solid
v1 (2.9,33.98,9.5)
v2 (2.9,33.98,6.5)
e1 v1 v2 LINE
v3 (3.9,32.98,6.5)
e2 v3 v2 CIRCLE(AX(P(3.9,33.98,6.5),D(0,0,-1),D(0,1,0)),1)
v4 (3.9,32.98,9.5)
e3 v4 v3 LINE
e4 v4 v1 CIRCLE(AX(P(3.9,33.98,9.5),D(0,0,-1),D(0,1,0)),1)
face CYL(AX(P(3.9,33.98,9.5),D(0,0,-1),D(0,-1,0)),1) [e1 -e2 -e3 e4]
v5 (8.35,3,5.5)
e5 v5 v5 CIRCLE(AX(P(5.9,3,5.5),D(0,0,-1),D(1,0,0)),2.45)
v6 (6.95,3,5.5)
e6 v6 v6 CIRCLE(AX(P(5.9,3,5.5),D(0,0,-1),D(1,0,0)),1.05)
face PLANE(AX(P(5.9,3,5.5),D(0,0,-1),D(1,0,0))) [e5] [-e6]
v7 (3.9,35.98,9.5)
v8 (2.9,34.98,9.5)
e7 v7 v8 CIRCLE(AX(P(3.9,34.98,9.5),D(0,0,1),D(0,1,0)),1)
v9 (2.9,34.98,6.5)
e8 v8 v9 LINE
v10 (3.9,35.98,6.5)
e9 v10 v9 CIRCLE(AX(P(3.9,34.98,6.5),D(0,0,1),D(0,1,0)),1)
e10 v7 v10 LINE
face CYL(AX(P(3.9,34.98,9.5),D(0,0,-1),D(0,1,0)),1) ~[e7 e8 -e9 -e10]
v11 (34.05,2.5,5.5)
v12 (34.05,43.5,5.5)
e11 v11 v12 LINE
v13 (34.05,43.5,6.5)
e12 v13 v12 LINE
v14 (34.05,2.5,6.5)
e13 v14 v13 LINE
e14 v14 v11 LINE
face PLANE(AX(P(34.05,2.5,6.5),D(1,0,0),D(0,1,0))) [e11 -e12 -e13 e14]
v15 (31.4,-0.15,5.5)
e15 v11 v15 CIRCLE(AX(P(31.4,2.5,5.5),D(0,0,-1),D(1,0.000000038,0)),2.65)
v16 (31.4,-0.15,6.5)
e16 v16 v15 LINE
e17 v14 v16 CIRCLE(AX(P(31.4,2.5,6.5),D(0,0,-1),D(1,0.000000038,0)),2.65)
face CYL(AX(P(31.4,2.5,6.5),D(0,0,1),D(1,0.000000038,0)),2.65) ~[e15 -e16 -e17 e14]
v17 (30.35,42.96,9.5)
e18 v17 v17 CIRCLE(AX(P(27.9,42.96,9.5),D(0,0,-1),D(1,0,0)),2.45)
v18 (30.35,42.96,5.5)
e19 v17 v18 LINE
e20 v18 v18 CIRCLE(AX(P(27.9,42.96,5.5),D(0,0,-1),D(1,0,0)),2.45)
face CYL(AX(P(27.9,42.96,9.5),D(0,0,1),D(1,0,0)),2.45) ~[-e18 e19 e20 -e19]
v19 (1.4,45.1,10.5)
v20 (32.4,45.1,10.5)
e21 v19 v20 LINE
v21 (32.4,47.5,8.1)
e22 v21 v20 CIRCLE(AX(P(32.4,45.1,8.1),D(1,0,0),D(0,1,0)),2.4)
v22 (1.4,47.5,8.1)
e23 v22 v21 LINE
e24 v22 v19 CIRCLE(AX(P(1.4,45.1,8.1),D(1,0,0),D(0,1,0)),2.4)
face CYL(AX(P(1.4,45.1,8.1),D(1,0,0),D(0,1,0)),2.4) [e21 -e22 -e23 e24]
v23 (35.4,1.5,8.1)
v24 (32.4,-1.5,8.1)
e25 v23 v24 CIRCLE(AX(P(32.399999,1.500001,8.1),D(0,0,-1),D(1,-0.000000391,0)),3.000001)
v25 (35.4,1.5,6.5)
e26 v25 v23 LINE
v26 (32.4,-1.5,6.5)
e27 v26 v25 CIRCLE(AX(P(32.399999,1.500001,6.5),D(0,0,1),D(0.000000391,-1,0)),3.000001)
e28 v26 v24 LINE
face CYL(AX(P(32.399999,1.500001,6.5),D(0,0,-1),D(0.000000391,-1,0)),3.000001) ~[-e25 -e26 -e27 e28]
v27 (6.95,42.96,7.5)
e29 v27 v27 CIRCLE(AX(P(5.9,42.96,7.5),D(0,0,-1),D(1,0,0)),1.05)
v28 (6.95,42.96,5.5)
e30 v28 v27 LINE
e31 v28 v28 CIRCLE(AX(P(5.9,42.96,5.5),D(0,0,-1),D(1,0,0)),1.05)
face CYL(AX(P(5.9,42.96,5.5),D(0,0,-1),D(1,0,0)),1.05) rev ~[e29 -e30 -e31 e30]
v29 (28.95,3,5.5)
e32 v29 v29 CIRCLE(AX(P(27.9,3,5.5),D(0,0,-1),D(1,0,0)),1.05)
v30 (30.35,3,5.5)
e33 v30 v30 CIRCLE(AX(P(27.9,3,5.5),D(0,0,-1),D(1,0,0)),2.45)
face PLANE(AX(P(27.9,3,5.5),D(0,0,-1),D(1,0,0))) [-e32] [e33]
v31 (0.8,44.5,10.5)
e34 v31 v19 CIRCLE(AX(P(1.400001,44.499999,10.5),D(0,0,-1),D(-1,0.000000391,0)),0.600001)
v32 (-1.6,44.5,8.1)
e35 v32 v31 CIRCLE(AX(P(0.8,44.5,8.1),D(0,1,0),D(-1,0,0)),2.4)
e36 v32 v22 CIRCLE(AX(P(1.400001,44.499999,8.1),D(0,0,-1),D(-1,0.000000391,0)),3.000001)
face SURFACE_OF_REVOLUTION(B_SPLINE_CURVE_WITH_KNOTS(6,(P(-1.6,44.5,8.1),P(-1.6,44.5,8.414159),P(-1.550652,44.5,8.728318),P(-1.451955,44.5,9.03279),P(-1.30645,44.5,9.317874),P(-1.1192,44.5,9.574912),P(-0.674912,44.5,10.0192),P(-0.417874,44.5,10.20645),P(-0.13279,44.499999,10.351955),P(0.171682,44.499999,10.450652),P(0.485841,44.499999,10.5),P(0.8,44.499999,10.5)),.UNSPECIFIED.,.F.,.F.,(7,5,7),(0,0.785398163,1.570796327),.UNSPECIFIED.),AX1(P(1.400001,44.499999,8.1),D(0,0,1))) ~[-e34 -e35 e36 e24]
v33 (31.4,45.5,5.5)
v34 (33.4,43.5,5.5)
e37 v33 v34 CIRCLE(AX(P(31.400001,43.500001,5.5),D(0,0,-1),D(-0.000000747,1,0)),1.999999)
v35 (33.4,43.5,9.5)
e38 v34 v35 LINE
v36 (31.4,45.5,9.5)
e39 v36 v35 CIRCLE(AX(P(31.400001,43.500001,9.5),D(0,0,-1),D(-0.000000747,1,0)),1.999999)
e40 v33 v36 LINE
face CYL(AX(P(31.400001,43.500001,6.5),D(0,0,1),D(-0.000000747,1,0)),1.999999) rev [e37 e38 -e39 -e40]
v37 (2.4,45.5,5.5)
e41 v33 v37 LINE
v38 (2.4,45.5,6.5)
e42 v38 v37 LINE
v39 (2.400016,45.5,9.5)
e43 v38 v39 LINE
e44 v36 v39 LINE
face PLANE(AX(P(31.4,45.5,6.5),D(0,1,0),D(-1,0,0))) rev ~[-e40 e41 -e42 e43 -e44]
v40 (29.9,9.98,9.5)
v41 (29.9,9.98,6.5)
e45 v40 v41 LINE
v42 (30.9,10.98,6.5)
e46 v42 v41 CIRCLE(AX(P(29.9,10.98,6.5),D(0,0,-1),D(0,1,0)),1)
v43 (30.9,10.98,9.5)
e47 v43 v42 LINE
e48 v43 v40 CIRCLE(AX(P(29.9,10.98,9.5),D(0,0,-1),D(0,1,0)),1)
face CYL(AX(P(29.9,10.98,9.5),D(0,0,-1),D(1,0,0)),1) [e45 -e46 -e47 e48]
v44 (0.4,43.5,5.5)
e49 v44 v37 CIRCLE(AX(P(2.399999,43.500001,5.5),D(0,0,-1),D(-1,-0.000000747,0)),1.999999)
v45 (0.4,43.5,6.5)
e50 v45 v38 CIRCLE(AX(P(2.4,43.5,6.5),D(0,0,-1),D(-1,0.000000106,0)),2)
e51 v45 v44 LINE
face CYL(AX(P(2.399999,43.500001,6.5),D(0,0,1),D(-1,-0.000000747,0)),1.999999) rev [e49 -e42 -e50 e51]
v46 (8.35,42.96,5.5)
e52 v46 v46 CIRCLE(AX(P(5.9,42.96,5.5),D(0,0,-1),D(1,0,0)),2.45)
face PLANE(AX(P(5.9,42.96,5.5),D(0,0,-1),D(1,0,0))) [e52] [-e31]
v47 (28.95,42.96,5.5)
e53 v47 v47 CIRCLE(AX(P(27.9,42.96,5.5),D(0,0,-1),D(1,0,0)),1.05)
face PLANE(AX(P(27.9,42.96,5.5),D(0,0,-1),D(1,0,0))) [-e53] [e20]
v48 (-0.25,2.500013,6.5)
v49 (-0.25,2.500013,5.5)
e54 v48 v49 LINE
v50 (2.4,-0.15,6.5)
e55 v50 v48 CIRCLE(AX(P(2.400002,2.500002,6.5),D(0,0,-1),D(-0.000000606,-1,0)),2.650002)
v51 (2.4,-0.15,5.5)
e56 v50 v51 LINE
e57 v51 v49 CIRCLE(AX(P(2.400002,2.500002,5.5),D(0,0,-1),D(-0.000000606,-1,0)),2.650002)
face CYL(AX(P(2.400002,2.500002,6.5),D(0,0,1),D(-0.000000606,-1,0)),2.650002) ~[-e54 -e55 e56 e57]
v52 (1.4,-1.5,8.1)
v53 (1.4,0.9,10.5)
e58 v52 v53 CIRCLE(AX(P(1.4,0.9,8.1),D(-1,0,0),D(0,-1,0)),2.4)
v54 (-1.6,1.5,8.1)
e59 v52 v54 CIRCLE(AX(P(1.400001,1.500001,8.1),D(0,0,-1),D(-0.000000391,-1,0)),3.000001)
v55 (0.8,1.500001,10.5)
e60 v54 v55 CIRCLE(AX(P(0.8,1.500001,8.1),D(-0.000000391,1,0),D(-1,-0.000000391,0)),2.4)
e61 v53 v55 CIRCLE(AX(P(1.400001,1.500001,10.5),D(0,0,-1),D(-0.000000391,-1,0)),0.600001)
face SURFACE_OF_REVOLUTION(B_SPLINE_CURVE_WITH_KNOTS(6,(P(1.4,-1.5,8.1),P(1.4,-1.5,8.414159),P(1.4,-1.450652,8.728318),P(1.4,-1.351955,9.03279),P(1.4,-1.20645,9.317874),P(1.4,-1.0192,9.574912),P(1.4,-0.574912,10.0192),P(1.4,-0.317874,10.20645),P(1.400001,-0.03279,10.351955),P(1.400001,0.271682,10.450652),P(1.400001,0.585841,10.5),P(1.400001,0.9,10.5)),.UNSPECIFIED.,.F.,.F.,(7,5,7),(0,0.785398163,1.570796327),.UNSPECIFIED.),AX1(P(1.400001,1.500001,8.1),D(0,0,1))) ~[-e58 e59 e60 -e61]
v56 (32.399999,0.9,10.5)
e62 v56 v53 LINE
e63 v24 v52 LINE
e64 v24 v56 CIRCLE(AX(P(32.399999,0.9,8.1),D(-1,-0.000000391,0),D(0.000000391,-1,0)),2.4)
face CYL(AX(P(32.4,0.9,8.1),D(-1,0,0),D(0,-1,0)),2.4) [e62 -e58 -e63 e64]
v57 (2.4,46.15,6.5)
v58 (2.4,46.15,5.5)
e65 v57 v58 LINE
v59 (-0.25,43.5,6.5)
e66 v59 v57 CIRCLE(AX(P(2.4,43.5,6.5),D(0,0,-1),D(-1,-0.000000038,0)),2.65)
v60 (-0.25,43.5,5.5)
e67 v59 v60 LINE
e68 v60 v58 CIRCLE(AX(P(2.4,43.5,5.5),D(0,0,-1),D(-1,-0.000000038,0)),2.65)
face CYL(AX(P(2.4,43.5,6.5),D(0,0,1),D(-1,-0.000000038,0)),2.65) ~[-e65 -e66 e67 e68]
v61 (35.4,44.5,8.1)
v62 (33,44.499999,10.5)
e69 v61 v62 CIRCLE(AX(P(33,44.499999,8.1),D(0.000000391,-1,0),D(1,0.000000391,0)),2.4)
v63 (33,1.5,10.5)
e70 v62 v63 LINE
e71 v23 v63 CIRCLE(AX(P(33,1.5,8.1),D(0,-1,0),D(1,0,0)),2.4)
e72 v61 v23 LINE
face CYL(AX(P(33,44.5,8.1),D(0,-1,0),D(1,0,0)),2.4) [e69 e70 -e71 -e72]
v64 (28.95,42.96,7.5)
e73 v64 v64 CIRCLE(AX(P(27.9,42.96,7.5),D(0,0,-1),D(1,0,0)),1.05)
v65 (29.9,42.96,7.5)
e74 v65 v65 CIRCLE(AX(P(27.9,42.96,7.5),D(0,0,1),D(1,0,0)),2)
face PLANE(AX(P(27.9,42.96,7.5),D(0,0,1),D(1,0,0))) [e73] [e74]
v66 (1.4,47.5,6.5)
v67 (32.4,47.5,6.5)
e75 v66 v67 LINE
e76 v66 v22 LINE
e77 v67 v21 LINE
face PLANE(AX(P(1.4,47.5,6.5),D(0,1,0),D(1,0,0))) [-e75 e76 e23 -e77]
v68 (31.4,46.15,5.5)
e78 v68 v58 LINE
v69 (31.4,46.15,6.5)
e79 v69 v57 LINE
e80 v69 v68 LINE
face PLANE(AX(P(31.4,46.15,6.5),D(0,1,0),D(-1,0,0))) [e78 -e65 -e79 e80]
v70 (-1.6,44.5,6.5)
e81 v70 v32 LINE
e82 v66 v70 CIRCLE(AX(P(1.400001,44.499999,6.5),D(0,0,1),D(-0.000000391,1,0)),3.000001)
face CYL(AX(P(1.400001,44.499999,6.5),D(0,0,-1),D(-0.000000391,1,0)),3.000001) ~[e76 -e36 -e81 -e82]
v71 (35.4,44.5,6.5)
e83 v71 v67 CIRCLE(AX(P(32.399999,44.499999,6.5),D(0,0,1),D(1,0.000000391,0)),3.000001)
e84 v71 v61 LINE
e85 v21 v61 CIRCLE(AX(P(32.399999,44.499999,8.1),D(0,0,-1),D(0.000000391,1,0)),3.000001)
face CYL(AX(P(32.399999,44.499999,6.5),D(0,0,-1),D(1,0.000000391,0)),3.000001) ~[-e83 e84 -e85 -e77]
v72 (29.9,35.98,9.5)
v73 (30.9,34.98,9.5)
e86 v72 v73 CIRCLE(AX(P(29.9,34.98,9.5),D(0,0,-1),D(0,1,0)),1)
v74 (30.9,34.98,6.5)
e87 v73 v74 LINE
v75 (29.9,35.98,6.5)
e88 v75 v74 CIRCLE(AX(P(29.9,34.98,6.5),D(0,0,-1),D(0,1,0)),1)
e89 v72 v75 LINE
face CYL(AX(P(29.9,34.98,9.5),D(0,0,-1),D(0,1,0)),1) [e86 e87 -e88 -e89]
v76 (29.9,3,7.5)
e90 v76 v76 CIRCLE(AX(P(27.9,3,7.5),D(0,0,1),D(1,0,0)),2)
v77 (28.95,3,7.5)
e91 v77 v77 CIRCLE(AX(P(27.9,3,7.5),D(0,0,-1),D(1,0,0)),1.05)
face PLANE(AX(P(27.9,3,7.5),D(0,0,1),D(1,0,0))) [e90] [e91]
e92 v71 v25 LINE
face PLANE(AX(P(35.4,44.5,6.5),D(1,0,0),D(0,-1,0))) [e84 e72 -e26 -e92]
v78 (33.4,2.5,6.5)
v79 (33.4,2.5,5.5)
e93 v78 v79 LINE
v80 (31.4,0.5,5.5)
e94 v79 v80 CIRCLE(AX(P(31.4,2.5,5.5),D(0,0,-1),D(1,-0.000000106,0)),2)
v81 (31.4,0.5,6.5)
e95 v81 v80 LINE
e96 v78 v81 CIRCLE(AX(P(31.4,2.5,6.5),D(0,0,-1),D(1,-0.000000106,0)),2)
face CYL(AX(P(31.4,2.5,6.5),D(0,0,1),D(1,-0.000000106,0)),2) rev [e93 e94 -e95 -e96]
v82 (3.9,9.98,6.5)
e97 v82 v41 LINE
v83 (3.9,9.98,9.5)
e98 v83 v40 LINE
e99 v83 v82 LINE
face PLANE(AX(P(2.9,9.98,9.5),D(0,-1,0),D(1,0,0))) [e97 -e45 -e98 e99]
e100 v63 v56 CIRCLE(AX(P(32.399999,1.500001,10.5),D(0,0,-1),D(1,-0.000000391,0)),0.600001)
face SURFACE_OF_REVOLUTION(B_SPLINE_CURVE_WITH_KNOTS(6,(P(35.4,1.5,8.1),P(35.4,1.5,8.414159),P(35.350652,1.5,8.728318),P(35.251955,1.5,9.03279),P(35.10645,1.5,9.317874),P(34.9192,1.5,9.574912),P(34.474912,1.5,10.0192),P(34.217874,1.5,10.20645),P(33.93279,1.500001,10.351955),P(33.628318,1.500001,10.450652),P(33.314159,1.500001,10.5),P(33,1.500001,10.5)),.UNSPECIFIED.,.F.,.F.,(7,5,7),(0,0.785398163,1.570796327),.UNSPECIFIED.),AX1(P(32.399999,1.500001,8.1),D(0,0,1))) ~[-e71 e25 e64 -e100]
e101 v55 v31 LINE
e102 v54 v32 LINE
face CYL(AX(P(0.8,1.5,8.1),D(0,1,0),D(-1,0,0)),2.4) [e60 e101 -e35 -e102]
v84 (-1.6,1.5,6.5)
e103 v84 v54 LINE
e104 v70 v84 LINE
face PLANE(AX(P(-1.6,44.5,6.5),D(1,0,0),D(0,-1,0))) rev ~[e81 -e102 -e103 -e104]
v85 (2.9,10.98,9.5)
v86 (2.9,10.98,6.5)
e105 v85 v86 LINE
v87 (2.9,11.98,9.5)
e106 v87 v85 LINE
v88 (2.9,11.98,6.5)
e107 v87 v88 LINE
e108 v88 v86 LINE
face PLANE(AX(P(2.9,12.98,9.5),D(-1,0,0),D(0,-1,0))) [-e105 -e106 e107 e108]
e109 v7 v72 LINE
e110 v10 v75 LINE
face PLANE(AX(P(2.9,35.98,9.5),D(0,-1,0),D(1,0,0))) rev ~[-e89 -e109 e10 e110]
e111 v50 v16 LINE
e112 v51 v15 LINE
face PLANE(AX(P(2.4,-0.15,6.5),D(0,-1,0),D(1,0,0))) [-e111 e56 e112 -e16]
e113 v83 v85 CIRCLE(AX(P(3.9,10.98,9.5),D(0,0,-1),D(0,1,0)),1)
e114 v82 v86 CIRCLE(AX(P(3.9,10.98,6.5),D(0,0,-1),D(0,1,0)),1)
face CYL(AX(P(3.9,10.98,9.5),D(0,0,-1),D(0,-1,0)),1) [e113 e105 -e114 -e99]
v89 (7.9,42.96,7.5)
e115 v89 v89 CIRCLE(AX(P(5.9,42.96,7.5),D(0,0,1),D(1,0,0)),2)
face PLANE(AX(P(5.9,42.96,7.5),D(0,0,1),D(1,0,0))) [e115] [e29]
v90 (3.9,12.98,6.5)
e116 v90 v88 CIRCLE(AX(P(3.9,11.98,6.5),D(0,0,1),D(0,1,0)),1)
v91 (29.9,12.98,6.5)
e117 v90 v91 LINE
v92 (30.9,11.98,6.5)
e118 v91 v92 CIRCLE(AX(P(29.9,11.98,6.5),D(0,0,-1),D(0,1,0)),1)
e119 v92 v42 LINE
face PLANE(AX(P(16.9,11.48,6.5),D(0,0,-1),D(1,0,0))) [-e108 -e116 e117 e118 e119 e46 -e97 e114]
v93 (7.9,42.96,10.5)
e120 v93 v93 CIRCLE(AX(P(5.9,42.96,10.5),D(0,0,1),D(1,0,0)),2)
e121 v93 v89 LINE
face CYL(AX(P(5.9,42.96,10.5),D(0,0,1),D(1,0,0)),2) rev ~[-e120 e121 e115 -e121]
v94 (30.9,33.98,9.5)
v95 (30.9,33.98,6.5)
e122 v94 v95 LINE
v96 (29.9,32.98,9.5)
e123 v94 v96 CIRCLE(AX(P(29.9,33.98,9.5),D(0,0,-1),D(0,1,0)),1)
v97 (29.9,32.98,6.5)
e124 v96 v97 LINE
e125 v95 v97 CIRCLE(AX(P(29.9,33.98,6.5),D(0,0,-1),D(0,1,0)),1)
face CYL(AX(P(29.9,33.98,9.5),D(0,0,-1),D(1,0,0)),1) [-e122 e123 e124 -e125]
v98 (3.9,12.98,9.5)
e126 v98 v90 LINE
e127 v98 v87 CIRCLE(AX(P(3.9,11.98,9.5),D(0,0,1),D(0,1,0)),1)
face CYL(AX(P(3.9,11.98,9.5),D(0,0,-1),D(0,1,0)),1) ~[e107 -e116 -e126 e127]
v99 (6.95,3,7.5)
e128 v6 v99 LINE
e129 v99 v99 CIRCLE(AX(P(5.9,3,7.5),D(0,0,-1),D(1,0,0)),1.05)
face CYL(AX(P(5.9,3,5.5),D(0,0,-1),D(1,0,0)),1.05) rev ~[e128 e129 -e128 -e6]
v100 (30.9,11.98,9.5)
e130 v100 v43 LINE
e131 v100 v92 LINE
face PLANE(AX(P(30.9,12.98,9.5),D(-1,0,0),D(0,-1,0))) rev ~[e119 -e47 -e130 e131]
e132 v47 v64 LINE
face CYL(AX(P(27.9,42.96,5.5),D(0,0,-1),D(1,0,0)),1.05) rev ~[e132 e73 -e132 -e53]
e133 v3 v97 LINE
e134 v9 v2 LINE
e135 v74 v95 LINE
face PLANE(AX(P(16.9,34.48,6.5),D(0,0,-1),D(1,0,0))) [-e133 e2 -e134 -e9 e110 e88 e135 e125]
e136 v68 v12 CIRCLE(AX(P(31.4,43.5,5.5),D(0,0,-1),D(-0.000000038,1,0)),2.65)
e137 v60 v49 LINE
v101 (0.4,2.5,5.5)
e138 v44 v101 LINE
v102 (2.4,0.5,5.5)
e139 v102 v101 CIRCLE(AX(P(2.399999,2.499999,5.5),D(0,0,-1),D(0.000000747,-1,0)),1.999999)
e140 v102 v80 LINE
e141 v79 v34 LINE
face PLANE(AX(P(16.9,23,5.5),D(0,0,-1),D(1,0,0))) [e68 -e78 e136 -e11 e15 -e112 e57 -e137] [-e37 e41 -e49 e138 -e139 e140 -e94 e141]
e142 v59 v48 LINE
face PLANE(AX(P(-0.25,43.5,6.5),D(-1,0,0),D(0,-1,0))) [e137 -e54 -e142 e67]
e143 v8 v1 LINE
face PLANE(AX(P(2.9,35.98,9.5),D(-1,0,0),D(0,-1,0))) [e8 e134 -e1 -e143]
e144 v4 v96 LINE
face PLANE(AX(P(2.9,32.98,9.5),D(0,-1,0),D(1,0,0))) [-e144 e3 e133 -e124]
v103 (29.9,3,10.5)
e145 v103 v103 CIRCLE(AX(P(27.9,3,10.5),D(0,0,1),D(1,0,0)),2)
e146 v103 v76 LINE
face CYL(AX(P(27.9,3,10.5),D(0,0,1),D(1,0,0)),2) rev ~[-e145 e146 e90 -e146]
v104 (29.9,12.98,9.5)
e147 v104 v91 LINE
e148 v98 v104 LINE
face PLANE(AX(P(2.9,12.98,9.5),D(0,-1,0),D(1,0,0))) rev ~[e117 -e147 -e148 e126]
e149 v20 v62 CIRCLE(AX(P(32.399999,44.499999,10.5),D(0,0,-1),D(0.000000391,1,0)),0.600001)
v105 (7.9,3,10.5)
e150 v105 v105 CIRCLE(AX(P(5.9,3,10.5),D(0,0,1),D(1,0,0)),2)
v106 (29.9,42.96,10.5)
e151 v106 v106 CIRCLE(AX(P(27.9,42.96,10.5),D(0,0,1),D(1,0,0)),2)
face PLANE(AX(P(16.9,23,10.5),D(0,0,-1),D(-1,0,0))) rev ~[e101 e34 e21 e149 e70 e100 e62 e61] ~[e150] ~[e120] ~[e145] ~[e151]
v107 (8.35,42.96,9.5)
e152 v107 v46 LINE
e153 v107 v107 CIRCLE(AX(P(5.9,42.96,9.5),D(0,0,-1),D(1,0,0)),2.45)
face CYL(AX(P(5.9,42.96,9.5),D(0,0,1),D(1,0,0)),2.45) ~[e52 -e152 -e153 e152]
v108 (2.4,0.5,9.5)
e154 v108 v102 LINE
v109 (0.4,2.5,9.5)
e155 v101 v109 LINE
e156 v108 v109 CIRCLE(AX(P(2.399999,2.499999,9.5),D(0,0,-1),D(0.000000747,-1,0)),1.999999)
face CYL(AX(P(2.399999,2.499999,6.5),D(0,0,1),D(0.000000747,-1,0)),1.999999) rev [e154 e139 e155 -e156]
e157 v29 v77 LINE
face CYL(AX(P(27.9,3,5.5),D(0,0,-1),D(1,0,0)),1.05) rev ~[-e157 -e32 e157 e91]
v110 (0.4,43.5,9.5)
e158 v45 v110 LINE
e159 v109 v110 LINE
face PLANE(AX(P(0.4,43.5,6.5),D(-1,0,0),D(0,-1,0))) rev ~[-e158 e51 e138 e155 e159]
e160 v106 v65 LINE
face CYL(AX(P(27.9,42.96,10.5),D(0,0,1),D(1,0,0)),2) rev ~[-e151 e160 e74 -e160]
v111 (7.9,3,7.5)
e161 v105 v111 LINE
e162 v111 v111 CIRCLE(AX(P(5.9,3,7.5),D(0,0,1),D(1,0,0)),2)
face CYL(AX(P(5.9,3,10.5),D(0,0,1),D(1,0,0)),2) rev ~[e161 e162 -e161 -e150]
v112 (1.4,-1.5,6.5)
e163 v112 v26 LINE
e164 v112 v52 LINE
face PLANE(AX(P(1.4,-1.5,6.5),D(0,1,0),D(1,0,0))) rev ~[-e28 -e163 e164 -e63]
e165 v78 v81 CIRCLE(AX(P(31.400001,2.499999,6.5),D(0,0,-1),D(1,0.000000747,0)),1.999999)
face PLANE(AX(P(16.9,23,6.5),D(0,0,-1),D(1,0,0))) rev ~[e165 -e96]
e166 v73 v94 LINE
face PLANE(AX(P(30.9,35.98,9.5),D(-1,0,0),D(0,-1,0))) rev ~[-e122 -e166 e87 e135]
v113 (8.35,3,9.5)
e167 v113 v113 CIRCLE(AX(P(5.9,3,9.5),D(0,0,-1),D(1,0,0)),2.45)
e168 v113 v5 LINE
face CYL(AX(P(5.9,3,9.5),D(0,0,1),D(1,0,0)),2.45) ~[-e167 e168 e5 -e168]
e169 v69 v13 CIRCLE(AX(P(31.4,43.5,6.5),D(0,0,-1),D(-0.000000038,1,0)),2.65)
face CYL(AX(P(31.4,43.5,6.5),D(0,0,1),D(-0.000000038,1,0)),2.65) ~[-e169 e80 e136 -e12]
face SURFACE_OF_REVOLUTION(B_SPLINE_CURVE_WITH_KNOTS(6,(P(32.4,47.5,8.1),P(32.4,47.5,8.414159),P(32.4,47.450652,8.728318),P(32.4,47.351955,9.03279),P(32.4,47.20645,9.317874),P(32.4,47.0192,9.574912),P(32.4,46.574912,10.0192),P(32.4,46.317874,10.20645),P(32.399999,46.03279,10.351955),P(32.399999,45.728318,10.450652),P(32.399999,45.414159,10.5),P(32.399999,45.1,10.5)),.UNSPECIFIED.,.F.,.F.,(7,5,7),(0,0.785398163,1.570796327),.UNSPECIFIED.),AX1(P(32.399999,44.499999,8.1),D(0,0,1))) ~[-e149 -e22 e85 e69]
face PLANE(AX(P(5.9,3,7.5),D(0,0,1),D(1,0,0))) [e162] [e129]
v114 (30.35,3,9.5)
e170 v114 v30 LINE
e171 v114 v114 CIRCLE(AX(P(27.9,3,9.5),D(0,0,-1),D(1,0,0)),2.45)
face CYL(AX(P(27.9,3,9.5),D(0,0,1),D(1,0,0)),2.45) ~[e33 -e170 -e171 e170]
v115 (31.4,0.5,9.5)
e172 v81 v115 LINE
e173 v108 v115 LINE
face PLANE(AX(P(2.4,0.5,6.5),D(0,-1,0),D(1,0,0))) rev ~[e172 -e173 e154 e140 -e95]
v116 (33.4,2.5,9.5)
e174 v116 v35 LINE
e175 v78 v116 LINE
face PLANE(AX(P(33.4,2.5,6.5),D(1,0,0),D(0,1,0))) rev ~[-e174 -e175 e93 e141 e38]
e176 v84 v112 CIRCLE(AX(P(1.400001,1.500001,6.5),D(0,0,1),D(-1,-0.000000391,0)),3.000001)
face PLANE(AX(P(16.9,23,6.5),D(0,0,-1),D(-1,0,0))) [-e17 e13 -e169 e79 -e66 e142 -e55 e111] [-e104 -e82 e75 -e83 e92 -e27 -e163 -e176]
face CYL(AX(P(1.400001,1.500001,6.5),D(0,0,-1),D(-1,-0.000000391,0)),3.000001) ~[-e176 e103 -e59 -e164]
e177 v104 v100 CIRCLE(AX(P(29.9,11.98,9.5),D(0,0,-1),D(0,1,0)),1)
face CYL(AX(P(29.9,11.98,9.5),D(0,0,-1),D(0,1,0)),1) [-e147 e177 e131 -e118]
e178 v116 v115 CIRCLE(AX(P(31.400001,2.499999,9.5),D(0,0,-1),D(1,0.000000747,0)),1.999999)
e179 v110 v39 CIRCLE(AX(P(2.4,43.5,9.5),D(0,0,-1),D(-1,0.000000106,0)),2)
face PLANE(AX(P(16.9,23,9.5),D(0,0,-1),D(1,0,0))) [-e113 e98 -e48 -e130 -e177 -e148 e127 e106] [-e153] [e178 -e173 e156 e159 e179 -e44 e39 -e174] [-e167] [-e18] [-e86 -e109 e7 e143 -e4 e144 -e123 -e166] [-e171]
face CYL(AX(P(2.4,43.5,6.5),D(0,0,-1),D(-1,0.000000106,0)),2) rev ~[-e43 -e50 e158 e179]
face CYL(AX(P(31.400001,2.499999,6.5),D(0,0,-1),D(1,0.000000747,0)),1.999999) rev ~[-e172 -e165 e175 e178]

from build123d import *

# Parameters (mm, degrees)
PAD004_DEPTH    = 4
FILLET004_R     = 2.4
POCKET006_DEPTH = 3
SKETCH017_R     = 2.45
PAD012_DEPTH    = 4
SKETCH018_R     = 1.05
POCKET009_DEPTH = 5.001
SKETCH019_R     = 2
POCKET010_DEPTH = 3
PAD013_DEPTH    = 1
SKETCH022_W     = 28
SKETCH022_H     = 3
PAD014_DEPTH    = 3
FILLET009_R     = 1


with BuildPart() as part:
    # Sketch009 (on DatumPlane) → Pad004 (new body)
    with BuildSketch(Plane.XY.offset(6.5)):
        with BuildLine():
            Line((1.4, 47.5), (32.4, 47.5))
            ThreePointArc((35.4, 44.5), (34.52132, 46.62132), (32.4, 47.5))
            Line((35.4, 44.5), (35.4, 1.5))
            ThreePointArc((32.4, -1.5), (34.52132, -0.62132), (35.4, 1.5))
            Line((1.4, -1.5), (32.4, -1.5))
            ThreePointArc((-1.6, 1.5), (-0.72132, -0.62132), (1.4, -1.5))
            Line((-1.6, 44.5), (-1.6, 1.5))
            ThreePointArc((1.4, 47.5), (-0.72132, 46.62132), (-1.6, 44.5))
        make_face()
    extrude(amount=PAD004_DEPTH)

    # Fillet004
    fillet004_edges = [part.edges().sort_by_distance(p)[0] for p in [
        (16.9, 47.5, 10.5),
    ]]
    fillet(fillet004_edges, radius=FILLET004_R)

    # Sketch010 (on Face4 of Fillet004) → Pocket006 (cut)
    with BuildSketch(Plane(origin=(0, 0, 6.5), x_dir=(1, 0, 0), z_dir=(0, 0, -1))):
        with BuildLine():
            ThreePointArc((2.4, -0.5), (0.985786, -1.085786), (0.4, -2.5))
            Line((0.4, -2.5), (0.4, -43.5))
            ThreePointArc((0.4, -43.5), (0.985792, -44.914219), (2.400016, -45.5))
            Line((31.4, -45.5), (2.400016, -45.5))
            ThreePointArc((31.4, -45.5), (32.814214, -44.914214), (33.4, -43.5))
            Line((33.4, -2.5), (33.4, -43.5))
            ThreePointArc((33.4, -2.5), (32.814214, -1.085786), (31.4, -0.5))
            Line((2.4, -0.5), (31.4, -0.5))
        make_face()
    extrude(amount=-POCKET006_DEPTH, mode=Mode.SUBTRACT)

    # Sketch017 (on Face27 of Pocket006) → Pad012 (join)
    with BuildSketch(Plane(origin=(0, 0, 9.5), x_dir=(1, 0, 0), z_dir=(0, 0, -1))):
        with Locations((5.9, -3)):
            Circle(SKETCH017_R)
        with Locations((27.9, -3)):
            Circle(SKETCH017_R)
        with Locations((5.9, -42.96)):
            Circle(SKETCH017_R)
        with Locations((27.9, -42.96)):
            Circle(SKETCH017_R)
    extrude(amount=PAD012_DEPTH)

    # Sketch018 (on Face34 of Pad012) → Pocket009 (cut, through all)
    with BuildSketch(Plane(origin=(0, 0, 5.5), x_dir=(1, 0, 0), z_dir=(0, 0, -1))):
        with Locations((5.9, -3)):
            Circle(SKETCH018_R)
        with Locations((27.9, -3)):
            Circle(SKETCH018_R)
        with Locations((5.9, -42.96)):
            Circle(SKETCH018_R)
        with Locations((27.9, -42.96)):
            Circle(SKETCH018_R)
    extrude(amount=-POCKET009_DEPTH, mode=Mode.SUBTRACT)

    # Sketch019 (on Face9 of Pocket009) → Pocket010 (cut)
    with BuildSketch(Plane.XY.offset(10.5)):
        with Locations((27.9, 3)):
            Circle(SKETCH019_R)
        with Locations((5.9, 3)):
            Circle(SKETCH019_R)
        with Locations((27.9, 42.96)):
            Circle(SKETCH019_R)
        with Locations((5.9, 42.96)):
            Circle(SKETCH019_R)
    extrude(amount=-POCKET010_DEPTH, mode=Mode.SUBTRACT)

    # Sketch021 (on Face4 of Pocket010) → Pad013 (join)
    with BuildSketch(Plane(origin=(0, 0, 6.5), x_dir=(1, 0, 0), z_dir=(0, 0, -1))):
        with BuildLine():
            ThreePointArc((2.4, 0.15), (0.526163, -0.626172), (-0.25, -2.500013))
            Line((-0.25, -43.5), (-0.25, -2.500013))
            ThreePointArc((-0.25, -43.5), (0.526167, -45.373833), (2.4, -46.15))
            Line((31.4, -46.15), (2.4, -46.15))
            ThreePointArc((31.4, -46.15), (33.273833, -45.373833), (34.05, -43.5))
            Line((34.05, -2.5), (34.05, -43.5))
            ThreePointArc((34.05, -2.5), (33.273833, -0.626167), (31.4, 0.15))
            Line((2.4, 0.15), (31.4, 0.15))
        make_face()
        with BuildLine():
            ThreePointArc((2.4, -0.5), (0.985786, -1.085786), (0.4, -2.5))
            Line((0.4, -43.5), (0.4, -2.5))
            ThreePointArc((0.4, -43.5), (0.985786, -44.914214), (2.4, -45.5))
            Line((31.4, -45.5), (2.4, -45.5))
            ThreePointArc((31.4, -45.5), (32.814214, -44.914214), (33.4, -43.5))
            Line((33.4, -2.5), (33.4, -43.5))
            ThreePointArc((33.4, -2.5), (32.814214, -1.085787), (31.4, -0.5))
            Line((2.4, -0.5), (31.4, -0.5))
        make_face(mode=Mode.SUBTRACT)
    extrude(amount=PAD013_DEPTH)

    # Sketch022 (on Face60 of Pad013) → Pad014 (join)
    with BuildSketch(Plane(origin=(0, 0, 9.5), x_dir=(1, 0, 0), z_dir=(0, 0, -1))):
        with Locations((16.9, -11.48)):
            Rectangle(SKETCH022_W, SKETCH022_H)
        with Locations((16.9, -34.48)):
            Rectangle(SKETCH022_W, SKETCH022_H)
    extrude(amount=PAD014_DEPTH)

    # Fillet009
    fillet009_edges = [part.edges().sort_by_distance(p)[0] for p in [
        (2.9, 12.98, 8),
        (2.9, 9.98, 8),
        (30.9, 9.98, 8),
        (30.9, 12.98, 8),
        (30.9, 32.98, 8),
        (30.9, 35.98, 8),
        (2.9, 35.98, 8),
        (2.9, 32.98, 8),
    ]]
    fillet(fillet009_edges, radius=FILLET009_R)


solid = part.part
